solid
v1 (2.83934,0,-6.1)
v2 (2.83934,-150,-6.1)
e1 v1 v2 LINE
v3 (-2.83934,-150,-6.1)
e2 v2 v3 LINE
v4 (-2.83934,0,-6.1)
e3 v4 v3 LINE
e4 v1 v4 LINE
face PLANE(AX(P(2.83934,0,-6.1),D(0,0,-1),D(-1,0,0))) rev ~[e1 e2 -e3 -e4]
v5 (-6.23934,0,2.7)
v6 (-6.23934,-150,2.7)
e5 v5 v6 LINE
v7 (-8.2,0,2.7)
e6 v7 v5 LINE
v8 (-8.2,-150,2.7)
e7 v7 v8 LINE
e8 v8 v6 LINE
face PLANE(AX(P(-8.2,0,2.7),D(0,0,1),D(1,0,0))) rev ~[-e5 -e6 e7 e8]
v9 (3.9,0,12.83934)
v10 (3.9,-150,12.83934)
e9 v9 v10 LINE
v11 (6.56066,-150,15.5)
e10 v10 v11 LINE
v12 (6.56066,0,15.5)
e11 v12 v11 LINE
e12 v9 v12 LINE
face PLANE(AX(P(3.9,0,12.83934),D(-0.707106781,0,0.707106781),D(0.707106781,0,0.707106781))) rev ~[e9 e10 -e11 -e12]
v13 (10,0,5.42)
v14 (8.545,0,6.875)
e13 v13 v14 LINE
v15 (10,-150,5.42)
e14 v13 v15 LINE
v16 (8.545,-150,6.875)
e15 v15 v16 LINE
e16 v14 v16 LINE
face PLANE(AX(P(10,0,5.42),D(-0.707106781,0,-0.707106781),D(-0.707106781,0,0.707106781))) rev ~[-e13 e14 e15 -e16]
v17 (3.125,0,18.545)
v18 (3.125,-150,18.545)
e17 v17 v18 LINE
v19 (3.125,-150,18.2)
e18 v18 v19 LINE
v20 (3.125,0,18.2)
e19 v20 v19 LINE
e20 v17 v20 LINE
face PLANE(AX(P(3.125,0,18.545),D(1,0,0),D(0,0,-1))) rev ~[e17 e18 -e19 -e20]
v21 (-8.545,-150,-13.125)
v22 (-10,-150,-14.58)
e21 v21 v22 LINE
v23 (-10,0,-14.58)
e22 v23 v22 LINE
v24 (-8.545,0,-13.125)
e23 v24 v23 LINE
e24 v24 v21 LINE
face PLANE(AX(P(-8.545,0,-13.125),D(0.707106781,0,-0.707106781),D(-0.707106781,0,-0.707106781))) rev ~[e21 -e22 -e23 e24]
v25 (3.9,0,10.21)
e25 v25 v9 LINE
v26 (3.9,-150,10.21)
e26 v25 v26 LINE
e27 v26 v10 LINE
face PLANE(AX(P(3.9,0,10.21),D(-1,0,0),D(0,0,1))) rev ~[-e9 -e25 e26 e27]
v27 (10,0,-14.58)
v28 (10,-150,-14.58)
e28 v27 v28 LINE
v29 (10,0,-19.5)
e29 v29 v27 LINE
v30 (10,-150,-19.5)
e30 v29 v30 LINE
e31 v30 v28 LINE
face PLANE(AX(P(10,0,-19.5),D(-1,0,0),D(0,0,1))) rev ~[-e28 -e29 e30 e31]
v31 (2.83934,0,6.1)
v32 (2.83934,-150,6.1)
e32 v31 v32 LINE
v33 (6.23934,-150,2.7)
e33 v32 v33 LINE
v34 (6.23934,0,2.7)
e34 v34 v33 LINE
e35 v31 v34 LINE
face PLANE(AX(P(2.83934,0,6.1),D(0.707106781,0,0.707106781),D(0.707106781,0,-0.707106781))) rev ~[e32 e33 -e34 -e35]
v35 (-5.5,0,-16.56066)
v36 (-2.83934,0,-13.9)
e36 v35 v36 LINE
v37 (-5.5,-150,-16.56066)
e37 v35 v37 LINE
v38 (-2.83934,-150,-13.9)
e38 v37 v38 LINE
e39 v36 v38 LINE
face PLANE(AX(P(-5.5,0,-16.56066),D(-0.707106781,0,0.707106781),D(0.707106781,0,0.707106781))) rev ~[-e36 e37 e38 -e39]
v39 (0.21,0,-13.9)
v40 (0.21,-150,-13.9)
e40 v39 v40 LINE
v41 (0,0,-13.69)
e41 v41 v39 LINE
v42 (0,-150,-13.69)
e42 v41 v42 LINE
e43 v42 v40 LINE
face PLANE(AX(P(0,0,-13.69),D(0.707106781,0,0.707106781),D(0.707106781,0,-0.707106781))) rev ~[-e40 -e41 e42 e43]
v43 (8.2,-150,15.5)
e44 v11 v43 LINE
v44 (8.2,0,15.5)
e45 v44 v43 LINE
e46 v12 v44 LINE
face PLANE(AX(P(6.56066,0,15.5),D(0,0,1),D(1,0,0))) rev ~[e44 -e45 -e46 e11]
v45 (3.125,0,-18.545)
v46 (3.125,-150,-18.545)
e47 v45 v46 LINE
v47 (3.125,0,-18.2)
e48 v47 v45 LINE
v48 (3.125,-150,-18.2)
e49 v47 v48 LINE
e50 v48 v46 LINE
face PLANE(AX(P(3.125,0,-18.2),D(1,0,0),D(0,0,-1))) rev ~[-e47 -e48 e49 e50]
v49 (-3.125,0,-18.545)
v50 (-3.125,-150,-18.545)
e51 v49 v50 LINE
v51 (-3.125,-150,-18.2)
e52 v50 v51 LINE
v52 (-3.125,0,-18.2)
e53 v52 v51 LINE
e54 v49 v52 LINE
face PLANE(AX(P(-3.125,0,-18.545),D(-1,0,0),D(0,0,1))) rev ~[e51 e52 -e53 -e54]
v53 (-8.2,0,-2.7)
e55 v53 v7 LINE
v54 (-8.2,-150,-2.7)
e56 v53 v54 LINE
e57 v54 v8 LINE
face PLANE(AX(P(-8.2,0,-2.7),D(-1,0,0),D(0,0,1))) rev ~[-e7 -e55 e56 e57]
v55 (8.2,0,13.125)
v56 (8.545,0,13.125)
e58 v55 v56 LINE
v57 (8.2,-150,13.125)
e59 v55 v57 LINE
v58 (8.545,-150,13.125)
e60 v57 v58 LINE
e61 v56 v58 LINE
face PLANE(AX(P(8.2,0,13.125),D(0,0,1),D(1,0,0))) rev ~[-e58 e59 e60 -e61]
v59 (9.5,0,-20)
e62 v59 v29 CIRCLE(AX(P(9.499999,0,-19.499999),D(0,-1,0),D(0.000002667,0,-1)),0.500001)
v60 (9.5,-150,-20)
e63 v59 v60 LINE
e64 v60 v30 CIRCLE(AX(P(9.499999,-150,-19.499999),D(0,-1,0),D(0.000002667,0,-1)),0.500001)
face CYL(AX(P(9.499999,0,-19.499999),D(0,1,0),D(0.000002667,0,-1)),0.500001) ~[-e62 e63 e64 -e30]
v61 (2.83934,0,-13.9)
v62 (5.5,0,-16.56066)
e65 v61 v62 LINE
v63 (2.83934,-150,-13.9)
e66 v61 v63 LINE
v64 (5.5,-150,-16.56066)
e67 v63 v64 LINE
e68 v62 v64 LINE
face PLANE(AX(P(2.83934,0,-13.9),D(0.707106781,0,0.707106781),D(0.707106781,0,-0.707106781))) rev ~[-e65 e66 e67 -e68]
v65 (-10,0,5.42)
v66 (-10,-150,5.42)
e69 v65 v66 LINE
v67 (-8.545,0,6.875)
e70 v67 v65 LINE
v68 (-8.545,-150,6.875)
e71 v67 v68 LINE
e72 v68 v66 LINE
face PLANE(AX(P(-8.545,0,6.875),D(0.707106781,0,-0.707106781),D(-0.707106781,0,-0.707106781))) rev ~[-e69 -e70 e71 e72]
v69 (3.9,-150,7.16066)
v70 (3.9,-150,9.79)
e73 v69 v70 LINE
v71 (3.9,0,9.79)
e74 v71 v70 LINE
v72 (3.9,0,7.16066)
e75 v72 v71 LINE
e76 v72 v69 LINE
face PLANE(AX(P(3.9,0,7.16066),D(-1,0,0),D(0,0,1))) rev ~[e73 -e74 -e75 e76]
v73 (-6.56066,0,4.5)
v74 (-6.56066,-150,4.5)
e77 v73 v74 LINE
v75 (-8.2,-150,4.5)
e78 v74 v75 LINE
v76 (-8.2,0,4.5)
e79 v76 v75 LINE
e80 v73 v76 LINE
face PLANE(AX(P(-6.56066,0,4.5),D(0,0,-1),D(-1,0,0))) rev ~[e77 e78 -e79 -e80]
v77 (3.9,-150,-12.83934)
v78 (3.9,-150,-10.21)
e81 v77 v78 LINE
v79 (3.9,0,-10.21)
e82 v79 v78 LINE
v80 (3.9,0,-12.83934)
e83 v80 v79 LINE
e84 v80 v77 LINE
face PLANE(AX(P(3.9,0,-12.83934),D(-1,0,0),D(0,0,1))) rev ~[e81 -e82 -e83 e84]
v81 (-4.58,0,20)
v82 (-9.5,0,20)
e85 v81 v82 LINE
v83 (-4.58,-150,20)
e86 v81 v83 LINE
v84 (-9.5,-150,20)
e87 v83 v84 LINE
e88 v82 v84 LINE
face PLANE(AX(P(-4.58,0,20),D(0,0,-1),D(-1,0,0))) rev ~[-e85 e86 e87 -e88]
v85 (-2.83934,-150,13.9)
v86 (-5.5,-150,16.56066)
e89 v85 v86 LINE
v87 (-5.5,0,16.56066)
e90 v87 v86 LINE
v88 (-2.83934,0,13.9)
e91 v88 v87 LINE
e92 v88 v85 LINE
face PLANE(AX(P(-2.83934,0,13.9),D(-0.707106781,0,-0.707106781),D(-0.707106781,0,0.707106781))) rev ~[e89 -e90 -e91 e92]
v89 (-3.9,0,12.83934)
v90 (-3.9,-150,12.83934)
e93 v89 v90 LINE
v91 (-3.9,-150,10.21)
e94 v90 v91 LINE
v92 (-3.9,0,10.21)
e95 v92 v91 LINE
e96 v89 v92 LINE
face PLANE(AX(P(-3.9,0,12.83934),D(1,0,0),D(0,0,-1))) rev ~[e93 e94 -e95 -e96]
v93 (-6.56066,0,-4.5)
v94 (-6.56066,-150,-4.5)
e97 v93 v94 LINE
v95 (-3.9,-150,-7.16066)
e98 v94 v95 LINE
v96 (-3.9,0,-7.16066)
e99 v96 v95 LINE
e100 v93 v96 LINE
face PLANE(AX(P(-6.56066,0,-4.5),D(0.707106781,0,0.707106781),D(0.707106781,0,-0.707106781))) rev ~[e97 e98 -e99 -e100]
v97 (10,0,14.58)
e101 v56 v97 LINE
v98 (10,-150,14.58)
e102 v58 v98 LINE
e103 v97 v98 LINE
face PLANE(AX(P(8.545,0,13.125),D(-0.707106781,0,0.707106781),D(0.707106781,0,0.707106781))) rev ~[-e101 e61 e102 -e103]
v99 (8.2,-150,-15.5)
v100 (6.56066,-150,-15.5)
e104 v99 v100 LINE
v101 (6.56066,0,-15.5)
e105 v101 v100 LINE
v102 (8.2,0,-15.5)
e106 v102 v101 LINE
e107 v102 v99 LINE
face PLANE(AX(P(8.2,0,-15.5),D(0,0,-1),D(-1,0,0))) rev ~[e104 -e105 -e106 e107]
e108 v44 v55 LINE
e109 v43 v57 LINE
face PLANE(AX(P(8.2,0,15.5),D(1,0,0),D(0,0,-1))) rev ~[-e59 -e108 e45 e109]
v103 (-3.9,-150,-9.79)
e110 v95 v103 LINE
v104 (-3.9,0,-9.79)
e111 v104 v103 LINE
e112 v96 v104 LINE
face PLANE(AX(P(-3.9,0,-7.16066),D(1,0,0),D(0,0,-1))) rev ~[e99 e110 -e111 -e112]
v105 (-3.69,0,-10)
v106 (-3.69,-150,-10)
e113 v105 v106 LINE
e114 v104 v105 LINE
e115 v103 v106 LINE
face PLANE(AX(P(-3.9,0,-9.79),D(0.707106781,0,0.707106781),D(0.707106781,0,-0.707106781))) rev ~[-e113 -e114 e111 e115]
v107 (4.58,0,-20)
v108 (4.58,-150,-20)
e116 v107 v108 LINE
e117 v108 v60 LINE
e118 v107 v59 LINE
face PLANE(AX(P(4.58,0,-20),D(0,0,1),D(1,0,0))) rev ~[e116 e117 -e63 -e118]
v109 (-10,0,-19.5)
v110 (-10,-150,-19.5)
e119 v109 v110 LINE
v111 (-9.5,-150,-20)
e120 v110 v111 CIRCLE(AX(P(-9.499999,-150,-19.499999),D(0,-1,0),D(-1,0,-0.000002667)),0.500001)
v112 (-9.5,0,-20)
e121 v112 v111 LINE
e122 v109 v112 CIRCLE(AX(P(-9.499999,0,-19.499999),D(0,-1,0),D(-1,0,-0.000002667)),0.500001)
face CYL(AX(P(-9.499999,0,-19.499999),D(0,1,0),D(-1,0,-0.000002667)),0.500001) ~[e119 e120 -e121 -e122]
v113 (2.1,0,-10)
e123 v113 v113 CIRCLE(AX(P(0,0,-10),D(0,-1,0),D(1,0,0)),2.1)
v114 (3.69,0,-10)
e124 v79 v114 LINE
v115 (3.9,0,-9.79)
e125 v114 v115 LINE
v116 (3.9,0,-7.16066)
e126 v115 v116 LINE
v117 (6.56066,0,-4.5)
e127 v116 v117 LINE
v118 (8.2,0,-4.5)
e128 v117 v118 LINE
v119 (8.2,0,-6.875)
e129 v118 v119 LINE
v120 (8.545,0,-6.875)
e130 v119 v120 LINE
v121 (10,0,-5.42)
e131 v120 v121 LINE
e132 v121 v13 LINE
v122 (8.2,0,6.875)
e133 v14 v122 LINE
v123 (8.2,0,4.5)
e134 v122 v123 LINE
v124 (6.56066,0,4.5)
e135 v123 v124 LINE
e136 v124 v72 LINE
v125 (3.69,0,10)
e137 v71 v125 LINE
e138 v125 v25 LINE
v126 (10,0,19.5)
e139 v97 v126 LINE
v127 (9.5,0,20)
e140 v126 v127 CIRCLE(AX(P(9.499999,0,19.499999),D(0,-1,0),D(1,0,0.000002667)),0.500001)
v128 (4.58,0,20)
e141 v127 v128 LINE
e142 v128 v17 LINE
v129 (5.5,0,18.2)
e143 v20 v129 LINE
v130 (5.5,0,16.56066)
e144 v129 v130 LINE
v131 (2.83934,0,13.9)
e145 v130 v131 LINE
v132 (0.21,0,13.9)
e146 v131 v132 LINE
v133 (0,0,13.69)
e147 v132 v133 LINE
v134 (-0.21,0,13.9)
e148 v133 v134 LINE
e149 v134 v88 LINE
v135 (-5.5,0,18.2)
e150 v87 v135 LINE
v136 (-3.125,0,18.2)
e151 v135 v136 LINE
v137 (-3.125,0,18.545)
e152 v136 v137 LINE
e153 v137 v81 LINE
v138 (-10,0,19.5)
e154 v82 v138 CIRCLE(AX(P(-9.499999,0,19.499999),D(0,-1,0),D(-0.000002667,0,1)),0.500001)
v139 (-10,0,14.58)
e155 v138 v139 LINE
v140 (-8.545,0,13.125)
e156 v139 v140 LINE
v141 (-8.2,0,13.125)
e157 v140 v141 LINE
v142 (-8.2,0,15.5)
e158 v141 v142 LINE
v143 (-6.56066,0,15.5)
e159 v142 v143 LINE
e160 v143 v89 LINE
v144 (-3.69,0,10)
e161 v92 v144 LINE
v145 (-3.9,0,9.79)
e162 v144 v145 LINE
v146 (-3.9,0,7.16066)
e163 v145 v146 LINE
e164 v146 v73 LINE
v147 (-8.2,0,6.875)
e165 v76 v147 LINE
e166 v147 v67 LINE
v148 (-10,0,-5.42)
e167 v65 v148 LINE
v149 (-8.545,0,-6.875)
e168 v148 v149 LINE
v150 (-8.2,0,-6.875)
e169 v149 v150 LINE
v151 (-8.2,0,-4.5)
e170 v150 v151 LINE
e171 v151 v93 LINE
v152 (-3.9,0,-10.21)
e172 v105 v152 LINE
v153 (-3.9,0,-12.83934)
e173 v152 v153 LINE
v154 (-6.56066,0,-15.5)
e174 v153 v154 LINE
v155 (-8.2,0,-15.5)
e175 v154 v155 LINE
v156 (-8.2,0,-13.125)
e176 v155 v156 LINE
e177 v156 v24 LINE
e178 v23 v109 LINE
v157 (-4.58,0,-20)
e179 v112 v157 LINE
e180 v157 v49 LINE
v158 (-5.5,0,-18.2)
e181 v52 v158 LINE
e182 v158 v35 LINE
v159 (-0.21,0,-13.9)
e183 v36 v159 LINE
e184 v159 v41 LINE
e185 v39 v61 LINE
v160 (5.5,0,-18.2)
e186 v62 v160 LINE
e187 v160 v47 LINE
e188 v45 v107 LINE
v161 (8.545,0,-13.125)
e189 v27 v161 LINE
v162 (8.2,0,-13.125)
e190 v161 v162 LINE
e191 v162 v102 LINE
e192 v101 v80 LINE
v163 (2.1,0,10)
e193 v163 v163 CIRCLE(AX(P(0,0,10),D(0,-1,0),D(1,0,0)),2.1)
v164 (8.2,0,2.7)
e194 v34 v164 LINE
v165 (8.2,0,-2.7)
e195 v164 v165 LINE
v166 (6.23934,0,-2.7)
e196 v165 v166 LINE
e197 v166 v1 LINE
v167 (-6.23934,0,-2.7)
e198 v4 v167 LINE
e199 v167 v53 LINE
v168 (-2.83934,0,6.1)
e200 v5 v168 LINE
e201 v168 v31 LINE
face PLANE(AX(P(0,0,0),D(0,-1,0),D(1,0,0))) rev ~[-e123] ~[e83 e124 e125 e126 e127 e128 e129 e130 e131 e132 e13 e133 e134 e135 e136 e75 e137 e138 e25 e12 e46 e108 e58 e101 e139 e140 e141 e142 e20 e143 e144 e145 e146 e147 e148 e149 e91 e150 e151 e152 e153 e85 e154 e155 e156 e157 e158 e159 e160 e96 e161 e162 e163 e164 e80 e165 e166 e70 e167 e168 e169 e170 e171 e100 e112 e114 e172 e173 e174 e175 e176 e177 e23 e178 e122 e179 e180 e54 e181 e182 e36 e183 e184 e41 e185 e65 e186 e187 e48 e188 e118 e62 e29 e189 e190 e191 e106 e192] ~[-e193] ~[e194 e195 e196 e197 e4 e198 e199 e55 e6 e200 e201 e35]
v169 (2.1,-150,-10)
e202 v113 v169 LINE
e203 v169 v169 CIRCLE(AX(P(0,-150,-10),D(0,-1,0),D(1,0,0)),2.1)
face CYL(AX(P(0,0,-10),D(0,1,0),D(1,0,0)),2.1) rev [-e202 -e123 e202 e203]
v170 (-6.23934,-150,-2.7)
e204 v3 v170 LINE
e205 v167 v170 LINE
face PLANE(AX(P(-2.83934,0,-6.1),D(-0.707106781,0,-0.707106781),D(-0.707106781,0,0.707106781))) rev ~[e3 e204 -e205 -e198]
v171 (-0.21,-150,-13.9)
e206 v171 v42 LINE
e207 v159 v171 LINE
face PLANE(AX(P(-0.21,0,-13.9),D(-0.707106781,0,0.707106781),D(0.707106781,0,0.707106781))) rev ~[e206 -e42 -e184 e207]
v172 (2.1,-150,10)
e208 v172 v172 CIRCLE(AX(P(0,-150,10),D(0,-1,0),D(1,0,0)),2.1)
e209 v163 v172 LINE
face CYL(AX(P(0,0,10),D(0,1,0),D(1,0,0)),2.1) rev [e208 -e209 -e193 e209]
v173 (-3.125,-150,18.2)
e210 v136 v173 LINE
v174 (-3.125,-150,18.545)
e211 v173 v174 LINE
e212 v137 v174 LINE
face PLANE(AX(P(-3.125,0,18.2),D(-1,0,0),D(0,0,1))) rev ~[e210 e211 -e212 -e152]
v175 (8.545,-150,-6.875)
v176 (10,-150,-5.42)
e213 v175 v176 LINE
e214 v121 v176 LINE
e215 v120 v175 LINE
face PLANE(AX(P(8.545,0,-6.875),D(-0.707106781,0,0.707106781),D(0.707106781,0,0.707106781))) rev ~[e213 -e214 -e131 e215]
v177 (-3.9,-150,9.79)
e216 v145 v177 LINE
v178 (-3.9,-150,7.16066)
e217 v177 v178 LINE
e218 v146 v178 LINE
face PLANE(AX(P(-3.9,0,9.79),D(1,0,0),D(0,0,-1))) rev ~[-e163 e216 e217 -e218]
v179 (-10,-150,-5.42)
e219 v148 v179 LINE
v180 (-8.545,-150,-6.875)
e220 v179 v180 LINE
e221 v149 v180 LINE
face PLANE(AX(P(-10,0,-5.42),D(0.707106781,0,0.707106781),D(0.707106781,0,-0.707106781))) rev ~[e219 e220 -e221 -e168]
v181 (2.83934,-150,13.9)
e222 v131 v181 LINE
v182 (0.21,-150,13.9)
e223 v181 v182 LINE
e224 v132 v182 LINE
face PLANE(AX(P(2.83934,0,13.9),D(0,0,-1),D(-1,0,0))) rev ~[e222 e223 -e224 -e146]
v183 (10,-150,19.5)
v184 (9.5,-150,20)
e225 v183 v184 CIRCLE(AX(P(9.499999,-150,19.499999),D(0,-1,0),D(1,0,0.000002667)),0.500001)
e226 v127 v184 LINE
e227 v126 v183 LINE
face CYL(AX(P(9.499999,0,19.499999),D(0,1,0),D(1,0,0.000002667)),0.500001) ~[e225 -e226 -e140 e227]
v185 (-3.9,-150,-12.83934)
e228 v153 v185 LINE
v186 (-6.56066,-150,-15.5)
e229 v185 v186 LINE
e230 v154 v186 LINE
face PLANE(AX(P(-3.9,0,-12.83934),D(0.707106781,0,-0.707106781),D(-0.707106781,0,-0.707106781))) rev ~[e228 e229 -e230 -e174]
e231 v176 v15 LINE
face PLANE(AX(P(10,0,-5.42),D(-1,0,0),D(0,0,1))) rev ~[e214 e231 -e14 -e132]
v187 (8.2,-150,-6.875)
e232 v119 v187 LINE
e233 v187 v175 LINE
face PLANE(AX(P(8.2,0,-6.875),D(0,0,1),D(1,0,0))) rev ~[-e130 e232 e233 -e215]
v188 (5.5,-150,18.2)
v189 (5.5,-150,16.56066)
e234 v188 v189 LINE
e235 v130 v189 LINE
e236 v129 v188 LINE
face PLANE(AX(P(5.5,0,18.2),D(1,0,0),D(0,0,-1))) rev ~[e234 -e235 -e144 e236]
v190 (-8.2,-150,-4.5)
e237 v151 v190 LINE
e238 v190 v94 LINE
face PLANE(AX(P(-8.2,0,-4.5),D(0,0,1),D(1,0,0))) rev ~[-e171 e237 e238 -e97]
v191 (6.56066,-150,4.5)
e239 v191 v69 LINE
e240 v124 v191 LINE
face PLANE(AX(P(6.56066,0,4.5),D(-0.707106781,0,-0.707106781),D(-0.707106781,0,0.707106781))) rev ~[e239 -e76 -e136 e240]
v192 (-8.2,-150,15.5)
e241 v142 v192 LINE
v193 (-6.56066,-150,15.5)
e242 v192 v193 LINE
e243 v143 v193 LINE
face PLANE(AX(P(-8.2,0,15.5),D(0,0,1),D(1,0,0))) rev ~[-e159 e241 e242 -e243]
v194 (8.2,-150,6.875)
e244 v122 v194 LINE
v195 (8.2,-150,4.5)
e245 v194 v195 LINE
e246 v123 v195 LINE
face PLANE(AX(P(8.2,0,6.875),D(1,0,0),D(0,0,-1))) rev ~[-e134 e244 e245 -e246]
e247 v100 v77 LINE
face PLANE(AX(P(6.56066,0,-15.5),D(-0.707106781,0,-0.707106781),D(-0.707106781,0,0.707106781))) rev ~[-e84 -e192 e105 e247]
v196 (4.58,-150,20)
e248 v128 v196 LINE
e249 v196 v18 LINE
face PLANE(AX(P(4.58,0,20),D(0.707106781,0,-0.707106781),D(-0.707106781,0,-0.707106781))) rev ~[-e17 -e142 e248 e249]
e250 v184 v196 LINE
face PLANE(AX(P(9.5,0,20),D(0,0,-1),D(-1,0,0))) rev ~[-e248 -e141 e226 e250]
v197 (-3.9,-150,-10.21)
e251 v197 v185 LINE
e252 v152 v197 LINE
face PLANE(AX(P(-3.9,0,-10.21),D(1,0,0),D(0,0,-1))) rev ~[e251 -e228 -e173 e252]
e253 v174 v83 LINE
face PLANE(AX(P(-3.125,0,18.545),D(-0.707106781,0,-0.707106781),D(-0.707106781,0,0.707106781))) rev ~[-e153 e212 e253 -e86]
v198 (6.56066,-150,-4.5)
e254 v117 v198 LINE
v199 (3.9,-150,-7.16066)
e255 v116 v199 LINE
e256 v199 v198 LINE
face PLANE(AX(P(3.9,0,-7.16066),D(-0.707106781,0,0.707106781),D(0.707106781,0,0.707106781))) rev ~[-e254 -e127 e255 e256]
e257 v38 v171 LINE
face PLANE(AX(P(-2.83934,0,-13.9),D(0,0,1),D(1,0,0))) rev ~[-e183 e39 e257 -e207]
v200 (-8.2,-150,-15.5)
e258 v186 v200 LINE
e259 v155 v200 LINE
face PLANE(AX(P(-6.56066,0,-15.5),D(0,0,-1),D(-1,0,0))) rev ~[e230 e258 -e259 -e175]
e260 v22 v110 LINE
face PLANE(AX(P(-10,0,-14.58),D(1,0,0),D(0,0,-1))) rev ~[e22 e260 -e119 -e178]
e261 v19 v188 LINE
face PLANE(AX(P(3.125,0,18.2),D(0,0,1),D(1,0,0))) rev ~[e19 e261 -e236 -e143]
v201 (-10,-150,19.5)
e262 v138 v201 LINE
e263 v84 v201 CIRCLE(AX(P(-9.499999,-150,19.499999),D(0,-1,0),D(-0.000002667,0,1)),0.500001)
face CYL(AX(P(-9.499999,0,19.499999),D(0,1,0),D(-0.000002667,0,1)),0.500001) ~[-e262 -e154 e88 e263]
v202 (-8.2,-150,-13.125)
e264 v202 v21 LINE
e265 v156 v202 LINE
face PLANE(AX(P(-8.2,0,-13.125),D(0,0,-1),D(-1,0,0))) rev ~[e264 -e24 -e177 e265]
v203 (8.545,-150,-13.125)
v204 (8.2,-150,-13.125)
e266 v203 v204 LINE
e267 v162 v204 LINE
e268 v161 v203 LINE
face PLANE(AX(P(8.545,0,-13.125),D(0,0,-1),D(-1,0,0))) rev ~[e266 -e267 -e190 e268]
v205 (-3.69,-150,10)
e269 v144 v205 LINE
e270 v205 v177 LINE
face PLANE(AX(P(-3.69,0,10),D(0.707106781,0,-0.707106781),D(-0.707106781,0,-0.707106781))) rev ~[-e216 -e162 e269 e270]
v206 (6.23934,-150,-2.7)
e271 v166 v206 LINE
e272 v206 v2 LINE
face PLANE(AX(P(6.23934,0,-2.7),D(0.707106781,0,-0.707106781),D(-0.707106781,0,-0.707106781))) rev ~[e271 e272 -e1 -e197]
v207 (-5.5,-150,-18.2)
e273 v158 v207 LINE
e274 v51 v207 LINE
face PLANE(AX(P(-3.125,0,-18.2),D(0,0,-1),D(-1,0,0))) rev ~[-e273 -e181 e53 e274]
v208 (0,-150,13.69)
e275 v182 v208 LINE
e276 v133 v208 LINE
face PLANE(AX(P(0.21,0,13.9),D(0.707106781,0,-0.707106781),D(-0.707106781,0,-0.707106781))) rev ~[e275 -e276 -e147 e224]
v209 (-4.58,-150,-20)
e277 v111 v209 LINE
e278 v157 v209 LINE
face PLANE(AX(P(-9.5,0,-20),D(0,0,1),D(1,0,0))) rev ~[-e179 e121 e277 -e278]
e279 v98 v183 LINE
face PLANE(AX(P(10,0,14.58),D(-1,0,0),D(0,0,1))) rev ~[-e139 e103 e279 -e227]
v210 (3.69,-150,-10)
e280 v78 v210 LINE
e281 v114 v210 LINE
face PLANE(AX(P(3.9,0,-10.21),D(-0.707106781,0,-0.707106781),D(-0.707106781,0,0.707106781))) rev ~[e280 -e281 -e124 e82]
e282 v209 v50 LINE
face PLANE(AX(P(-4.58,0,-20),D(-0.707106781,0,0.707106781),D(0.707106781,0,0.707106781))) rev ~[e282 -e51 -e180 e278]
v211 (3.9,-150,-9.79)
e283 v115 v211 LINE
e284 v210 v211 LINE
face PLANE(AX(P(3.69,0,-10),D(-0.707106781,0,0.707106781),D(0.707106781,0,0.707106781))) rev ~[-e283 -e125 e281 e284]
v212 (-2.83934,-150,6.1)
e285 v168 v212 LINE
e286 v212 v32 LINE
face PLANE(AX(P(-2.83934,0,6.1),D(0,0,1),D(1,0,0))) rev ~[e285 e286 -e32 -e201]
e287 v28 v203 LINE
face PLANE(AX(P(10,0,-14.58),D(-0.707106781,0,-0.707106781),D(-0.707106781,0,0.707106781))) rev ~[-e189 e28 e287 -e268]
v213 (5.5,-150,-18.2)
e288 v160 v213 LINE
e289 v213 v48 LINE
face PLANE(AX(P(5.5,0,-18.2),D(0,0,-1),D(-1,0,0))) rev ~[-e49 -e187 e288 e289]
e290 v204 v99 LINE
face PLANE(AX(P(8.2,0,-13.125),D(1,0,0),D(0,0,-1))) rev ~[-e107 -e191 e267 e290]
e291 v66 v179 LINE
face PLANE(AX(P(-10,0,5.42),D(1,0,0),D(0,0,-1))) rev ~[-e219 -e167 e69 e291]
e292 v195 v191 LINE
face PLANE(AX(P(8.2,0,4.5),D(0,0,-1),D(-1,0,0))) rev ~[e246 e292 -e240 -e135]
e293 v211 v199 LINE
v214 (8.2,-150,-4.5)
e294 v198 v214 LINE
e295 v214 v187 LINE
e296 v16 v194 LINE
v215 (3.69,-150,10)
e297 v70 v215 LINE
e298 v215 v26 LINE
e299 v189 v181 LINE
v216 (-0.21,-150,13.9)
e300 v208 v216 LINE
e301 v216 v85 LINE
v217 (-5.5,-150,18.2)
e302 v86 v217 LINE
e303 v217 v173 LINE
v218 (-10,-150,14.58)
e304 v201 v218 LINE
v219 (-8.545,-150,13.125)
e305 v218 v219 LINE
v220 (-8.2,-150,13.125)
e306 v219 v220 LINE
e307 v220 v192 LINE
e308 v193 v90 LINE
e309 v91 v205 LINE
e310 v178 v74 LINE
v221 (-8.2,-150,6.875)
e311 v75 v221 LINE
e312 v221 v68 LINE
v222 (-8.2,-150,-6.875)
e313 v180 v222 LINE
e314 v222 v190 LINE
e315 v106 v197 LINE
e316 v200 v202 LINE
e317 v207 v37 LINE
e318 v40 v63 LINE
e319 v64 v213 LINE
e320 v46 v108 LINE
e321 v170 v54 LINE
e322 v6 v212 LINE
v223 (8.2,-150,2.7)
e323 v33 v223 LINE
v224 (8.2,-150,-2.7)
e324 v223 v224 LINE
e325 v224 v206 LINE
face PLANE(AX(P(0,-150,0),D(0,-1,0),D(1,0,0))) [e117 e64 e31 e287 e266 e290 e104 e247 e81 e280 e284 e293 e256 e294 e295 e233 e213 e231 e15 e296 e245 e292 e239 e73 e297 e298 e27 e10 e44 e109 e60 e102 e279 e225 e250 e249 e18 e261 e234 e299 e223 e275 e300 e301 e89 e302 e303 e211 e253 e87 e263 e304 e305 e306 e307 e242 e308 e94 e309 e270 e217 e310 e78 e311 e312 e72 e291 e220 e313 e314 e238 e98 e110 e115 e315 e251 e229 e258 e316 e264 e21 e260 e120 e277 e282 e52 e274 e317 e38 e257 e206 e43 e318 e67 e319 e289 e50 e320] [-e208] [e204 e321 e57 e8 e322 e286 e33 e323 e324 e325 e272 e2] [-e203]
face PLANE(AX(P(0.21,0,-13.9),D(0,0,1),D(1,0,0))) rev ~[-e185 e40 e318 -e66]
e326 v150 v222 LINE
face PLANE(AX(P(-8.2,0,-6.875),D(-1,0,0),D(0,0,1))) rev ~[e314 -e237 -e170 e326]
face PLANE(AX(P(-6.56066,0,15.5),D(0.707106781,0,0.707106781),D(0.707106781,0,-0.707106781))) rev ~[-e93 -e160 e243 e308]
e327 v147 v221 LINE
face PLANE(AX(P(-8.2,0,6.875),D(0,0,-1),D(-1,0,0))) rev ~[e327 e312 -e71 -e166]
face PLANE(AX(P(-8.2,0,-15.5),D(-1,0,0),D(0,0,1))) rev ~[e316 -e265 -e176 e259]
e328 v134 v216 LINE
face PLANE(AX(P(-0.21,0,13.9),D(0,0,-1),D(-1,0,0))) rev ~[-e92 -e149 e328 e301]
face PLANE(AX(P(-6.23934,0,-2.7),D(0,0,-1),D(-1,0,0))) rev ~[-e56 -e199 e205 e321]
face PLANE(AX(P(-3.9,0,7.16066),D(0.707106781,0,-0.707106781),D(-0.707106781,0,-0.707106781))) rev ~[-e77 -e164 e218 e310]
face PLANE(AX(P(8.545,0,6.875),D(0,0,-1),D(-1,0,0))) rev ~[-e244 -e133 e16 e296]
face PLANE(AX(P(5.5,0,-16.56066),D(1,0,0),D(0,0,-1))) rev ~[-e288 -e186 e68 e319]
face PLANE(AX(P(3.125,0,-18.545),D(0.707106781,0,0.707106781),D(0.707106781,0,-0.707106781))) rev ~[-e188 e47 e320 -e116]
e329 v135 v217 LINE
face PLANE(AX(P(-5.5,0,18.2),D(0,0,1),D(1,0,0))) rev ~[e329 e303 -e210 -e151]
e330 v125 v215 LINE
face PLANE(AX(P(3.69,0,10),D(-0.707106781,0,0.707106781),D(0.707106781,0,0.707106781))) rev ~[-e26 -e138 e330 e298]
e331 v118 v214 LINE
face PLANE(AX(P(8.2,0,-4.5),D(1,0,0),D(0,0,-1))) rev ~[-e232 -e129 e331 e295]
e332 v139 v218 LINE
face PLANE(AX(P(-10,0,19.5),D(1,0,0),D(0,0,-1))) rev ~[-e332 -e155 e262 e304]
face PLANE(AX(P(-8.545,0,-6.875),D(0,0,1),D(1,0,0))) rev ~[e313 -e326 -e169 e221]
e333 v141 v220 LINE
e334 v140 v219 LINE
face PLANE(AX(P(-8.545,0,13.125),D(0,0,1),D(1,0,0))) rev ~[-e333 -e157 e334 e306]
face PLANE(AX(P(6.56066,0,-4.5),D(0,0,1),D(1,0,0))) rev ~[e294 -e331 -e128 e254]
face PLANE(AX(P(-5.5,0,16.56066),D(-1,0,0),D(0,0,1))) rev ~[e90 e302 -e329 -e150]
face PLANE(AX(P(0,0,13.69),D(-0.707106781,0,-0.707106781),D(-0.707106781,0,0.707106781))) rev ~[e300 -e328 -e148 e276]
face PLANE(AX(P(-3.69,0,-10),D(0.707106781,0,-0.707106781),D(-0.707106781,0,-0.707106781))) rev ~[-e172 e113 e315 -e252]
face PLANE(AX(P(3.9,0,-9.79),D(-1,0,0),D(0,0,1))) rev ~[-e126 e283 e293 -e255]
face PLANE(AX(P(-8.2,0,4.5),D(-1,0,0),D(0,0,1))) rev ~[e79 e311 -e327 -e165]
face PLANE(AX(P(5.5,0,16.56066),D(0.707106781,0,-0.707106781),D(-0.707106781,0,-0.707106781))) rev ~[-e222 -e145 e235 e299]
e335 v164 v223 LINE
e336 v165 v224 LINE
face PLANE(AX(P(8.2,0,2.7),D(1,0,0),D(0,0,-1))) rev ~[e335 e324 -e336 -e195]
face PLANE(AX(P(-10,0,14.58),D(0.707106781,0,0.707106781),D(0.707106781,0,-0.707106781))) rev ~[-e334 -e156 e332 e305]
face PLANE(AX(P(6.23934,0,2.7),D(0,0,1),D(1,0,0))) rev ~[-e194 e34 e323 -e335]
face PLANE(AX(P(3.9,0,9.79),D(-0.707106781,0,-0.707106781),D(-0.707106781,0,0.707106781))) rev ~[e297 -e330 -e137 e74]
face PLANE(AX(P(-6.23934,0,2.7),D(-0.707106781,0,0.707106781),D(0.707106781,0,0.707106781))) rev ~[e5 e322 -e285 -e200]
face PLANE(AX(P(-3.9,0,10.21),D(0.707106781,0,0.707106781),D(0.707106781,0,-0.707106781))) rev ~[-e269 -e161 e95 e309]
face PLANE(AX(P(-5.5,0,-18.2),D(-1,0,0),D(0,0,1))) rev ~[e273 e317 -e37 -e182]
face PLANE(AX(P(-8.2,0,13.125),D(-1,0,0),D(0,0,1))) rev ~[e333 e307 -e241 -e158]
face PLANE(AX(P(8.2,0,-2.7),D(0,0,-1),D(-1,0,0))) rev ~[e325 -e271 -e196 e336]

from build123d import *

# Parameters (mm, degrees)
F0_R     = 2.1
F1_DEPTH = 150


with BuildPart() as f1:
    # F0 (on Front) → F1 (new body)
    with BuildSketch(Plane.XZ):
        with BuildLine():
            Line((-3.9, 10.21), (-3.69, 10))
            Line((-3.69, 10), (-3.9, 9.79))
            Line((-3.9, 9.79), (-3.9, 7.16066))
            Line((-3.9, 7.16066), (-6.56066, 4.5))
            Line((-6.56066, 4.5), (-8.2, 4.5))
            Line((-8.2, 4.5), (-8.2, 6.875))
            Line((-8.2, 6.875), (-8.545, 6.875))
            Line((-8.545, 6.875), (-10, 5.42))
            Line((-10, 5.42), (-10, -5.42))
            Line((-10, -5.42), (-8.545, -6.875))
            Line((-8.545, -6.875), (-8.2, -6.875))
            Line((-8.2, -6.875), (-8.2, -4.5))
            Line((-8.2, -4.5), (-6.56066, -4.5))
            Line((-6.56066, -4.5), (-3.9, -7.16066))
            Line((-3.9, -7.16066), (-3.9, -9.79))
            Line((-3.9, -9.79), (-3.69, -10))
            Line((-3.69, -10), (-3.9, -10.21))
            Line((-3.9, -10.21), (-3.9, -12.83934))
            Line((-3.9, -12.83934), (-6.56066, -15.5))
            Line((-6.56066, -15.5), (-8.2, -15.5))
            Line((-8.2, -15.5), (-8.2, -13.125))
            Line((-8.2, -13.125), (-8.545, -13.125))
            Line((-8.545, -13.125), (-10, -14.58))
            Line((-10, -14.58), (-10, -19.5))
            ThreePointArc((-10, -19.5), (-9.853553, -19.853553), (-9.5, -20))
            Line((-9.5, -20), (-4.58, -20))
            Line((-4.58, -20), (-3.125, -18.545))
            Line((-3.125, -18.545), (-3.125, -18.2))
            Line((-3.125, -18.2), (-5.5, -18.2))
            Line((-5.5, -18.2), (-5.5, -16.56066))
            Line((-5.5, -16.56066), (-2.83934, -13.9))
            Line((-2.83934, -13.9), (-0.21, -13.9))
            Line((-0.21, -13.9), (0, -13.69))
            Line((0, -13.69), (0.21, -13.9))
            Line((0.21, -13.9), (2.83934, -13.9))
            Line((2.83934, -13.9), (5.5, -16.56066))
            Line((5.5, -16.56066), (5.5, -18.2))
            Line((5.5, -18.2), (3.125, -18.2))
            Line((3.125, -18.2), (3.125, -18.545))
            Line((3.125, -18.545), (4.58, -20))
            Line((4.58, -20), (9.5, -20))
            ThreePointArc((9.5, -20), (9.853553, -19.853553), (10, -19.5))
            Line((10, -19.5), (10, -14.58))
            Line((10, -14.58), (8.545, -13.125))
            Line((8.545, -13.125), (8.2, -13.125))
            Line((8.2, -13.125), (8.2, -15.5))
            Line((8.2, -15.5), (6.56066, -15.5))
            Line((6.56066, -15.5), (3.9, -12.83934))
            Line((3.9, -12.83934), (3.9, -10.21))
            Line((3.9, -10.21), (3.69, -10))
            Line((3.69, -10), (3.9, -9.79))
            Line((3.9, -9.79), (3.9, -7.16066))
            Line((3.9, -7.16066), (6.56066, -4.5))
            Line((6.56066, -4.5), (8.2, -4.5))
            Line((8.2, -4.5), (8.2, -6.875))
            Line((8.2, -6.875), (8.545, -6.875))
            Line((8.545, -6.875), (10, -5.42))
            Line((10, -5.42), (10, 5.42))
            Line((10, 5.42), (8.545, 6.875))
            Line((8.545, 6.875), (8.2, 6.875))
            Line((8.2, 6.875), (8.2, 4.5))
            Line((8.2, 4.5), (6.56066, 4.5))
            Line((6.56066, 4.5), (3.9, 7.16066))
            Line((3.9, 7.16066), (3.9, 9.79))
            Line((3.9, 9.79), (3.69, 10))
            Line((3.69, 10), (3.9, 10.21))
            Line((3.9, 10.21), (3.9, 12.83934))
            Line((3.9, 12.83934), (6.56066, 15.5))
            Line((6.56066, 15.5), (8.2, 15.5))
            Line((8.2, 15.5), (8.2, 13.125))
            Line((8.2, 13.125), (8.545, 13.125))
            Line((8.545, 13.125), (10, 14.58))
            Line((10, 14.58), (10, 19.5))
            ThreePointArc((10, 19.5), (9.853553, 19.853553), (9.5, 20))
            Line((9.5, 20), (4.58, 20))
            Line((4.58, 20), (3.125, 18.545))
            Line((3.125, 18.545), (3.125, 18.2))
            Line((3.125, 18.2), (5.5, 18.2))
            Line((5.5, 18.2), (5.5, 16.56066))
            Line((5.5, 16.56066), (2.83934, 13.9))
            Line((2.83934, 13.9), (0.21, 13.9))
            Line((0.21, 13.9), (0, 13.69))
            Line((0, 13.69), (-0.21, 13.9))
            Line((-0.21, 13.9), (-2.83934, 13.9))
            Line((-2.83934, 13.9), (-5.5, 16.56066))
            Line((-5.5, 16.56066), (-5.5, 18.2))
            Line((-5.5, 18.2), (-3.125, 18.2))
            Line((-3.125, 18.2), (-3.125, 18.545))
            Line((-3.125, 18.545), (-4.58, 20))
            Line((-4.58, 20), (-9.5, 20))
            ThreePointArc((-9.5, 20), (-9.853553, 19.853553), (-10, 19.5))
            Line((-10, 19.5), (-10, 14.58))
            Line((-10, 14.58), (-8.545, 13.125))
            Line((-8.545, 13.125), (-8.2, 13.125))
            Line((-8.2, 13.125), (-8.2, 15.5))
            Line((-8.2, 15.5), (-6.56066, 15.5))
            Line((-6.56066, 15.5), (-3.9, 12.83934))
            Line((-3.9, 12.83934), (-3.9, 10.21))
        make_face()
        with Locations((0, -10)):
            Circle(F0_R, mode=Mode.SUBTRACT)
        Polygon((-6.23934, -2.7), (-8.2, -2.7), (-8.2, 2.7), (-6.23934, 2.7), (-2.83934, 6.1), (2.83934, 6.1), (6.23934, 2.7), (8.2, 2.7), (8.2, -2.7), (6.23934, -2.7), (2.83934, -6.1), (-2.83934, -6.1), align=None, mode=Mode.SUBTRACT)
        with Locations((0, 10)):
            Circle(F0_R, mode=Mode.SUBTRACT)
    extrude(amount=F1_DEPTH)


solid = f1.part
